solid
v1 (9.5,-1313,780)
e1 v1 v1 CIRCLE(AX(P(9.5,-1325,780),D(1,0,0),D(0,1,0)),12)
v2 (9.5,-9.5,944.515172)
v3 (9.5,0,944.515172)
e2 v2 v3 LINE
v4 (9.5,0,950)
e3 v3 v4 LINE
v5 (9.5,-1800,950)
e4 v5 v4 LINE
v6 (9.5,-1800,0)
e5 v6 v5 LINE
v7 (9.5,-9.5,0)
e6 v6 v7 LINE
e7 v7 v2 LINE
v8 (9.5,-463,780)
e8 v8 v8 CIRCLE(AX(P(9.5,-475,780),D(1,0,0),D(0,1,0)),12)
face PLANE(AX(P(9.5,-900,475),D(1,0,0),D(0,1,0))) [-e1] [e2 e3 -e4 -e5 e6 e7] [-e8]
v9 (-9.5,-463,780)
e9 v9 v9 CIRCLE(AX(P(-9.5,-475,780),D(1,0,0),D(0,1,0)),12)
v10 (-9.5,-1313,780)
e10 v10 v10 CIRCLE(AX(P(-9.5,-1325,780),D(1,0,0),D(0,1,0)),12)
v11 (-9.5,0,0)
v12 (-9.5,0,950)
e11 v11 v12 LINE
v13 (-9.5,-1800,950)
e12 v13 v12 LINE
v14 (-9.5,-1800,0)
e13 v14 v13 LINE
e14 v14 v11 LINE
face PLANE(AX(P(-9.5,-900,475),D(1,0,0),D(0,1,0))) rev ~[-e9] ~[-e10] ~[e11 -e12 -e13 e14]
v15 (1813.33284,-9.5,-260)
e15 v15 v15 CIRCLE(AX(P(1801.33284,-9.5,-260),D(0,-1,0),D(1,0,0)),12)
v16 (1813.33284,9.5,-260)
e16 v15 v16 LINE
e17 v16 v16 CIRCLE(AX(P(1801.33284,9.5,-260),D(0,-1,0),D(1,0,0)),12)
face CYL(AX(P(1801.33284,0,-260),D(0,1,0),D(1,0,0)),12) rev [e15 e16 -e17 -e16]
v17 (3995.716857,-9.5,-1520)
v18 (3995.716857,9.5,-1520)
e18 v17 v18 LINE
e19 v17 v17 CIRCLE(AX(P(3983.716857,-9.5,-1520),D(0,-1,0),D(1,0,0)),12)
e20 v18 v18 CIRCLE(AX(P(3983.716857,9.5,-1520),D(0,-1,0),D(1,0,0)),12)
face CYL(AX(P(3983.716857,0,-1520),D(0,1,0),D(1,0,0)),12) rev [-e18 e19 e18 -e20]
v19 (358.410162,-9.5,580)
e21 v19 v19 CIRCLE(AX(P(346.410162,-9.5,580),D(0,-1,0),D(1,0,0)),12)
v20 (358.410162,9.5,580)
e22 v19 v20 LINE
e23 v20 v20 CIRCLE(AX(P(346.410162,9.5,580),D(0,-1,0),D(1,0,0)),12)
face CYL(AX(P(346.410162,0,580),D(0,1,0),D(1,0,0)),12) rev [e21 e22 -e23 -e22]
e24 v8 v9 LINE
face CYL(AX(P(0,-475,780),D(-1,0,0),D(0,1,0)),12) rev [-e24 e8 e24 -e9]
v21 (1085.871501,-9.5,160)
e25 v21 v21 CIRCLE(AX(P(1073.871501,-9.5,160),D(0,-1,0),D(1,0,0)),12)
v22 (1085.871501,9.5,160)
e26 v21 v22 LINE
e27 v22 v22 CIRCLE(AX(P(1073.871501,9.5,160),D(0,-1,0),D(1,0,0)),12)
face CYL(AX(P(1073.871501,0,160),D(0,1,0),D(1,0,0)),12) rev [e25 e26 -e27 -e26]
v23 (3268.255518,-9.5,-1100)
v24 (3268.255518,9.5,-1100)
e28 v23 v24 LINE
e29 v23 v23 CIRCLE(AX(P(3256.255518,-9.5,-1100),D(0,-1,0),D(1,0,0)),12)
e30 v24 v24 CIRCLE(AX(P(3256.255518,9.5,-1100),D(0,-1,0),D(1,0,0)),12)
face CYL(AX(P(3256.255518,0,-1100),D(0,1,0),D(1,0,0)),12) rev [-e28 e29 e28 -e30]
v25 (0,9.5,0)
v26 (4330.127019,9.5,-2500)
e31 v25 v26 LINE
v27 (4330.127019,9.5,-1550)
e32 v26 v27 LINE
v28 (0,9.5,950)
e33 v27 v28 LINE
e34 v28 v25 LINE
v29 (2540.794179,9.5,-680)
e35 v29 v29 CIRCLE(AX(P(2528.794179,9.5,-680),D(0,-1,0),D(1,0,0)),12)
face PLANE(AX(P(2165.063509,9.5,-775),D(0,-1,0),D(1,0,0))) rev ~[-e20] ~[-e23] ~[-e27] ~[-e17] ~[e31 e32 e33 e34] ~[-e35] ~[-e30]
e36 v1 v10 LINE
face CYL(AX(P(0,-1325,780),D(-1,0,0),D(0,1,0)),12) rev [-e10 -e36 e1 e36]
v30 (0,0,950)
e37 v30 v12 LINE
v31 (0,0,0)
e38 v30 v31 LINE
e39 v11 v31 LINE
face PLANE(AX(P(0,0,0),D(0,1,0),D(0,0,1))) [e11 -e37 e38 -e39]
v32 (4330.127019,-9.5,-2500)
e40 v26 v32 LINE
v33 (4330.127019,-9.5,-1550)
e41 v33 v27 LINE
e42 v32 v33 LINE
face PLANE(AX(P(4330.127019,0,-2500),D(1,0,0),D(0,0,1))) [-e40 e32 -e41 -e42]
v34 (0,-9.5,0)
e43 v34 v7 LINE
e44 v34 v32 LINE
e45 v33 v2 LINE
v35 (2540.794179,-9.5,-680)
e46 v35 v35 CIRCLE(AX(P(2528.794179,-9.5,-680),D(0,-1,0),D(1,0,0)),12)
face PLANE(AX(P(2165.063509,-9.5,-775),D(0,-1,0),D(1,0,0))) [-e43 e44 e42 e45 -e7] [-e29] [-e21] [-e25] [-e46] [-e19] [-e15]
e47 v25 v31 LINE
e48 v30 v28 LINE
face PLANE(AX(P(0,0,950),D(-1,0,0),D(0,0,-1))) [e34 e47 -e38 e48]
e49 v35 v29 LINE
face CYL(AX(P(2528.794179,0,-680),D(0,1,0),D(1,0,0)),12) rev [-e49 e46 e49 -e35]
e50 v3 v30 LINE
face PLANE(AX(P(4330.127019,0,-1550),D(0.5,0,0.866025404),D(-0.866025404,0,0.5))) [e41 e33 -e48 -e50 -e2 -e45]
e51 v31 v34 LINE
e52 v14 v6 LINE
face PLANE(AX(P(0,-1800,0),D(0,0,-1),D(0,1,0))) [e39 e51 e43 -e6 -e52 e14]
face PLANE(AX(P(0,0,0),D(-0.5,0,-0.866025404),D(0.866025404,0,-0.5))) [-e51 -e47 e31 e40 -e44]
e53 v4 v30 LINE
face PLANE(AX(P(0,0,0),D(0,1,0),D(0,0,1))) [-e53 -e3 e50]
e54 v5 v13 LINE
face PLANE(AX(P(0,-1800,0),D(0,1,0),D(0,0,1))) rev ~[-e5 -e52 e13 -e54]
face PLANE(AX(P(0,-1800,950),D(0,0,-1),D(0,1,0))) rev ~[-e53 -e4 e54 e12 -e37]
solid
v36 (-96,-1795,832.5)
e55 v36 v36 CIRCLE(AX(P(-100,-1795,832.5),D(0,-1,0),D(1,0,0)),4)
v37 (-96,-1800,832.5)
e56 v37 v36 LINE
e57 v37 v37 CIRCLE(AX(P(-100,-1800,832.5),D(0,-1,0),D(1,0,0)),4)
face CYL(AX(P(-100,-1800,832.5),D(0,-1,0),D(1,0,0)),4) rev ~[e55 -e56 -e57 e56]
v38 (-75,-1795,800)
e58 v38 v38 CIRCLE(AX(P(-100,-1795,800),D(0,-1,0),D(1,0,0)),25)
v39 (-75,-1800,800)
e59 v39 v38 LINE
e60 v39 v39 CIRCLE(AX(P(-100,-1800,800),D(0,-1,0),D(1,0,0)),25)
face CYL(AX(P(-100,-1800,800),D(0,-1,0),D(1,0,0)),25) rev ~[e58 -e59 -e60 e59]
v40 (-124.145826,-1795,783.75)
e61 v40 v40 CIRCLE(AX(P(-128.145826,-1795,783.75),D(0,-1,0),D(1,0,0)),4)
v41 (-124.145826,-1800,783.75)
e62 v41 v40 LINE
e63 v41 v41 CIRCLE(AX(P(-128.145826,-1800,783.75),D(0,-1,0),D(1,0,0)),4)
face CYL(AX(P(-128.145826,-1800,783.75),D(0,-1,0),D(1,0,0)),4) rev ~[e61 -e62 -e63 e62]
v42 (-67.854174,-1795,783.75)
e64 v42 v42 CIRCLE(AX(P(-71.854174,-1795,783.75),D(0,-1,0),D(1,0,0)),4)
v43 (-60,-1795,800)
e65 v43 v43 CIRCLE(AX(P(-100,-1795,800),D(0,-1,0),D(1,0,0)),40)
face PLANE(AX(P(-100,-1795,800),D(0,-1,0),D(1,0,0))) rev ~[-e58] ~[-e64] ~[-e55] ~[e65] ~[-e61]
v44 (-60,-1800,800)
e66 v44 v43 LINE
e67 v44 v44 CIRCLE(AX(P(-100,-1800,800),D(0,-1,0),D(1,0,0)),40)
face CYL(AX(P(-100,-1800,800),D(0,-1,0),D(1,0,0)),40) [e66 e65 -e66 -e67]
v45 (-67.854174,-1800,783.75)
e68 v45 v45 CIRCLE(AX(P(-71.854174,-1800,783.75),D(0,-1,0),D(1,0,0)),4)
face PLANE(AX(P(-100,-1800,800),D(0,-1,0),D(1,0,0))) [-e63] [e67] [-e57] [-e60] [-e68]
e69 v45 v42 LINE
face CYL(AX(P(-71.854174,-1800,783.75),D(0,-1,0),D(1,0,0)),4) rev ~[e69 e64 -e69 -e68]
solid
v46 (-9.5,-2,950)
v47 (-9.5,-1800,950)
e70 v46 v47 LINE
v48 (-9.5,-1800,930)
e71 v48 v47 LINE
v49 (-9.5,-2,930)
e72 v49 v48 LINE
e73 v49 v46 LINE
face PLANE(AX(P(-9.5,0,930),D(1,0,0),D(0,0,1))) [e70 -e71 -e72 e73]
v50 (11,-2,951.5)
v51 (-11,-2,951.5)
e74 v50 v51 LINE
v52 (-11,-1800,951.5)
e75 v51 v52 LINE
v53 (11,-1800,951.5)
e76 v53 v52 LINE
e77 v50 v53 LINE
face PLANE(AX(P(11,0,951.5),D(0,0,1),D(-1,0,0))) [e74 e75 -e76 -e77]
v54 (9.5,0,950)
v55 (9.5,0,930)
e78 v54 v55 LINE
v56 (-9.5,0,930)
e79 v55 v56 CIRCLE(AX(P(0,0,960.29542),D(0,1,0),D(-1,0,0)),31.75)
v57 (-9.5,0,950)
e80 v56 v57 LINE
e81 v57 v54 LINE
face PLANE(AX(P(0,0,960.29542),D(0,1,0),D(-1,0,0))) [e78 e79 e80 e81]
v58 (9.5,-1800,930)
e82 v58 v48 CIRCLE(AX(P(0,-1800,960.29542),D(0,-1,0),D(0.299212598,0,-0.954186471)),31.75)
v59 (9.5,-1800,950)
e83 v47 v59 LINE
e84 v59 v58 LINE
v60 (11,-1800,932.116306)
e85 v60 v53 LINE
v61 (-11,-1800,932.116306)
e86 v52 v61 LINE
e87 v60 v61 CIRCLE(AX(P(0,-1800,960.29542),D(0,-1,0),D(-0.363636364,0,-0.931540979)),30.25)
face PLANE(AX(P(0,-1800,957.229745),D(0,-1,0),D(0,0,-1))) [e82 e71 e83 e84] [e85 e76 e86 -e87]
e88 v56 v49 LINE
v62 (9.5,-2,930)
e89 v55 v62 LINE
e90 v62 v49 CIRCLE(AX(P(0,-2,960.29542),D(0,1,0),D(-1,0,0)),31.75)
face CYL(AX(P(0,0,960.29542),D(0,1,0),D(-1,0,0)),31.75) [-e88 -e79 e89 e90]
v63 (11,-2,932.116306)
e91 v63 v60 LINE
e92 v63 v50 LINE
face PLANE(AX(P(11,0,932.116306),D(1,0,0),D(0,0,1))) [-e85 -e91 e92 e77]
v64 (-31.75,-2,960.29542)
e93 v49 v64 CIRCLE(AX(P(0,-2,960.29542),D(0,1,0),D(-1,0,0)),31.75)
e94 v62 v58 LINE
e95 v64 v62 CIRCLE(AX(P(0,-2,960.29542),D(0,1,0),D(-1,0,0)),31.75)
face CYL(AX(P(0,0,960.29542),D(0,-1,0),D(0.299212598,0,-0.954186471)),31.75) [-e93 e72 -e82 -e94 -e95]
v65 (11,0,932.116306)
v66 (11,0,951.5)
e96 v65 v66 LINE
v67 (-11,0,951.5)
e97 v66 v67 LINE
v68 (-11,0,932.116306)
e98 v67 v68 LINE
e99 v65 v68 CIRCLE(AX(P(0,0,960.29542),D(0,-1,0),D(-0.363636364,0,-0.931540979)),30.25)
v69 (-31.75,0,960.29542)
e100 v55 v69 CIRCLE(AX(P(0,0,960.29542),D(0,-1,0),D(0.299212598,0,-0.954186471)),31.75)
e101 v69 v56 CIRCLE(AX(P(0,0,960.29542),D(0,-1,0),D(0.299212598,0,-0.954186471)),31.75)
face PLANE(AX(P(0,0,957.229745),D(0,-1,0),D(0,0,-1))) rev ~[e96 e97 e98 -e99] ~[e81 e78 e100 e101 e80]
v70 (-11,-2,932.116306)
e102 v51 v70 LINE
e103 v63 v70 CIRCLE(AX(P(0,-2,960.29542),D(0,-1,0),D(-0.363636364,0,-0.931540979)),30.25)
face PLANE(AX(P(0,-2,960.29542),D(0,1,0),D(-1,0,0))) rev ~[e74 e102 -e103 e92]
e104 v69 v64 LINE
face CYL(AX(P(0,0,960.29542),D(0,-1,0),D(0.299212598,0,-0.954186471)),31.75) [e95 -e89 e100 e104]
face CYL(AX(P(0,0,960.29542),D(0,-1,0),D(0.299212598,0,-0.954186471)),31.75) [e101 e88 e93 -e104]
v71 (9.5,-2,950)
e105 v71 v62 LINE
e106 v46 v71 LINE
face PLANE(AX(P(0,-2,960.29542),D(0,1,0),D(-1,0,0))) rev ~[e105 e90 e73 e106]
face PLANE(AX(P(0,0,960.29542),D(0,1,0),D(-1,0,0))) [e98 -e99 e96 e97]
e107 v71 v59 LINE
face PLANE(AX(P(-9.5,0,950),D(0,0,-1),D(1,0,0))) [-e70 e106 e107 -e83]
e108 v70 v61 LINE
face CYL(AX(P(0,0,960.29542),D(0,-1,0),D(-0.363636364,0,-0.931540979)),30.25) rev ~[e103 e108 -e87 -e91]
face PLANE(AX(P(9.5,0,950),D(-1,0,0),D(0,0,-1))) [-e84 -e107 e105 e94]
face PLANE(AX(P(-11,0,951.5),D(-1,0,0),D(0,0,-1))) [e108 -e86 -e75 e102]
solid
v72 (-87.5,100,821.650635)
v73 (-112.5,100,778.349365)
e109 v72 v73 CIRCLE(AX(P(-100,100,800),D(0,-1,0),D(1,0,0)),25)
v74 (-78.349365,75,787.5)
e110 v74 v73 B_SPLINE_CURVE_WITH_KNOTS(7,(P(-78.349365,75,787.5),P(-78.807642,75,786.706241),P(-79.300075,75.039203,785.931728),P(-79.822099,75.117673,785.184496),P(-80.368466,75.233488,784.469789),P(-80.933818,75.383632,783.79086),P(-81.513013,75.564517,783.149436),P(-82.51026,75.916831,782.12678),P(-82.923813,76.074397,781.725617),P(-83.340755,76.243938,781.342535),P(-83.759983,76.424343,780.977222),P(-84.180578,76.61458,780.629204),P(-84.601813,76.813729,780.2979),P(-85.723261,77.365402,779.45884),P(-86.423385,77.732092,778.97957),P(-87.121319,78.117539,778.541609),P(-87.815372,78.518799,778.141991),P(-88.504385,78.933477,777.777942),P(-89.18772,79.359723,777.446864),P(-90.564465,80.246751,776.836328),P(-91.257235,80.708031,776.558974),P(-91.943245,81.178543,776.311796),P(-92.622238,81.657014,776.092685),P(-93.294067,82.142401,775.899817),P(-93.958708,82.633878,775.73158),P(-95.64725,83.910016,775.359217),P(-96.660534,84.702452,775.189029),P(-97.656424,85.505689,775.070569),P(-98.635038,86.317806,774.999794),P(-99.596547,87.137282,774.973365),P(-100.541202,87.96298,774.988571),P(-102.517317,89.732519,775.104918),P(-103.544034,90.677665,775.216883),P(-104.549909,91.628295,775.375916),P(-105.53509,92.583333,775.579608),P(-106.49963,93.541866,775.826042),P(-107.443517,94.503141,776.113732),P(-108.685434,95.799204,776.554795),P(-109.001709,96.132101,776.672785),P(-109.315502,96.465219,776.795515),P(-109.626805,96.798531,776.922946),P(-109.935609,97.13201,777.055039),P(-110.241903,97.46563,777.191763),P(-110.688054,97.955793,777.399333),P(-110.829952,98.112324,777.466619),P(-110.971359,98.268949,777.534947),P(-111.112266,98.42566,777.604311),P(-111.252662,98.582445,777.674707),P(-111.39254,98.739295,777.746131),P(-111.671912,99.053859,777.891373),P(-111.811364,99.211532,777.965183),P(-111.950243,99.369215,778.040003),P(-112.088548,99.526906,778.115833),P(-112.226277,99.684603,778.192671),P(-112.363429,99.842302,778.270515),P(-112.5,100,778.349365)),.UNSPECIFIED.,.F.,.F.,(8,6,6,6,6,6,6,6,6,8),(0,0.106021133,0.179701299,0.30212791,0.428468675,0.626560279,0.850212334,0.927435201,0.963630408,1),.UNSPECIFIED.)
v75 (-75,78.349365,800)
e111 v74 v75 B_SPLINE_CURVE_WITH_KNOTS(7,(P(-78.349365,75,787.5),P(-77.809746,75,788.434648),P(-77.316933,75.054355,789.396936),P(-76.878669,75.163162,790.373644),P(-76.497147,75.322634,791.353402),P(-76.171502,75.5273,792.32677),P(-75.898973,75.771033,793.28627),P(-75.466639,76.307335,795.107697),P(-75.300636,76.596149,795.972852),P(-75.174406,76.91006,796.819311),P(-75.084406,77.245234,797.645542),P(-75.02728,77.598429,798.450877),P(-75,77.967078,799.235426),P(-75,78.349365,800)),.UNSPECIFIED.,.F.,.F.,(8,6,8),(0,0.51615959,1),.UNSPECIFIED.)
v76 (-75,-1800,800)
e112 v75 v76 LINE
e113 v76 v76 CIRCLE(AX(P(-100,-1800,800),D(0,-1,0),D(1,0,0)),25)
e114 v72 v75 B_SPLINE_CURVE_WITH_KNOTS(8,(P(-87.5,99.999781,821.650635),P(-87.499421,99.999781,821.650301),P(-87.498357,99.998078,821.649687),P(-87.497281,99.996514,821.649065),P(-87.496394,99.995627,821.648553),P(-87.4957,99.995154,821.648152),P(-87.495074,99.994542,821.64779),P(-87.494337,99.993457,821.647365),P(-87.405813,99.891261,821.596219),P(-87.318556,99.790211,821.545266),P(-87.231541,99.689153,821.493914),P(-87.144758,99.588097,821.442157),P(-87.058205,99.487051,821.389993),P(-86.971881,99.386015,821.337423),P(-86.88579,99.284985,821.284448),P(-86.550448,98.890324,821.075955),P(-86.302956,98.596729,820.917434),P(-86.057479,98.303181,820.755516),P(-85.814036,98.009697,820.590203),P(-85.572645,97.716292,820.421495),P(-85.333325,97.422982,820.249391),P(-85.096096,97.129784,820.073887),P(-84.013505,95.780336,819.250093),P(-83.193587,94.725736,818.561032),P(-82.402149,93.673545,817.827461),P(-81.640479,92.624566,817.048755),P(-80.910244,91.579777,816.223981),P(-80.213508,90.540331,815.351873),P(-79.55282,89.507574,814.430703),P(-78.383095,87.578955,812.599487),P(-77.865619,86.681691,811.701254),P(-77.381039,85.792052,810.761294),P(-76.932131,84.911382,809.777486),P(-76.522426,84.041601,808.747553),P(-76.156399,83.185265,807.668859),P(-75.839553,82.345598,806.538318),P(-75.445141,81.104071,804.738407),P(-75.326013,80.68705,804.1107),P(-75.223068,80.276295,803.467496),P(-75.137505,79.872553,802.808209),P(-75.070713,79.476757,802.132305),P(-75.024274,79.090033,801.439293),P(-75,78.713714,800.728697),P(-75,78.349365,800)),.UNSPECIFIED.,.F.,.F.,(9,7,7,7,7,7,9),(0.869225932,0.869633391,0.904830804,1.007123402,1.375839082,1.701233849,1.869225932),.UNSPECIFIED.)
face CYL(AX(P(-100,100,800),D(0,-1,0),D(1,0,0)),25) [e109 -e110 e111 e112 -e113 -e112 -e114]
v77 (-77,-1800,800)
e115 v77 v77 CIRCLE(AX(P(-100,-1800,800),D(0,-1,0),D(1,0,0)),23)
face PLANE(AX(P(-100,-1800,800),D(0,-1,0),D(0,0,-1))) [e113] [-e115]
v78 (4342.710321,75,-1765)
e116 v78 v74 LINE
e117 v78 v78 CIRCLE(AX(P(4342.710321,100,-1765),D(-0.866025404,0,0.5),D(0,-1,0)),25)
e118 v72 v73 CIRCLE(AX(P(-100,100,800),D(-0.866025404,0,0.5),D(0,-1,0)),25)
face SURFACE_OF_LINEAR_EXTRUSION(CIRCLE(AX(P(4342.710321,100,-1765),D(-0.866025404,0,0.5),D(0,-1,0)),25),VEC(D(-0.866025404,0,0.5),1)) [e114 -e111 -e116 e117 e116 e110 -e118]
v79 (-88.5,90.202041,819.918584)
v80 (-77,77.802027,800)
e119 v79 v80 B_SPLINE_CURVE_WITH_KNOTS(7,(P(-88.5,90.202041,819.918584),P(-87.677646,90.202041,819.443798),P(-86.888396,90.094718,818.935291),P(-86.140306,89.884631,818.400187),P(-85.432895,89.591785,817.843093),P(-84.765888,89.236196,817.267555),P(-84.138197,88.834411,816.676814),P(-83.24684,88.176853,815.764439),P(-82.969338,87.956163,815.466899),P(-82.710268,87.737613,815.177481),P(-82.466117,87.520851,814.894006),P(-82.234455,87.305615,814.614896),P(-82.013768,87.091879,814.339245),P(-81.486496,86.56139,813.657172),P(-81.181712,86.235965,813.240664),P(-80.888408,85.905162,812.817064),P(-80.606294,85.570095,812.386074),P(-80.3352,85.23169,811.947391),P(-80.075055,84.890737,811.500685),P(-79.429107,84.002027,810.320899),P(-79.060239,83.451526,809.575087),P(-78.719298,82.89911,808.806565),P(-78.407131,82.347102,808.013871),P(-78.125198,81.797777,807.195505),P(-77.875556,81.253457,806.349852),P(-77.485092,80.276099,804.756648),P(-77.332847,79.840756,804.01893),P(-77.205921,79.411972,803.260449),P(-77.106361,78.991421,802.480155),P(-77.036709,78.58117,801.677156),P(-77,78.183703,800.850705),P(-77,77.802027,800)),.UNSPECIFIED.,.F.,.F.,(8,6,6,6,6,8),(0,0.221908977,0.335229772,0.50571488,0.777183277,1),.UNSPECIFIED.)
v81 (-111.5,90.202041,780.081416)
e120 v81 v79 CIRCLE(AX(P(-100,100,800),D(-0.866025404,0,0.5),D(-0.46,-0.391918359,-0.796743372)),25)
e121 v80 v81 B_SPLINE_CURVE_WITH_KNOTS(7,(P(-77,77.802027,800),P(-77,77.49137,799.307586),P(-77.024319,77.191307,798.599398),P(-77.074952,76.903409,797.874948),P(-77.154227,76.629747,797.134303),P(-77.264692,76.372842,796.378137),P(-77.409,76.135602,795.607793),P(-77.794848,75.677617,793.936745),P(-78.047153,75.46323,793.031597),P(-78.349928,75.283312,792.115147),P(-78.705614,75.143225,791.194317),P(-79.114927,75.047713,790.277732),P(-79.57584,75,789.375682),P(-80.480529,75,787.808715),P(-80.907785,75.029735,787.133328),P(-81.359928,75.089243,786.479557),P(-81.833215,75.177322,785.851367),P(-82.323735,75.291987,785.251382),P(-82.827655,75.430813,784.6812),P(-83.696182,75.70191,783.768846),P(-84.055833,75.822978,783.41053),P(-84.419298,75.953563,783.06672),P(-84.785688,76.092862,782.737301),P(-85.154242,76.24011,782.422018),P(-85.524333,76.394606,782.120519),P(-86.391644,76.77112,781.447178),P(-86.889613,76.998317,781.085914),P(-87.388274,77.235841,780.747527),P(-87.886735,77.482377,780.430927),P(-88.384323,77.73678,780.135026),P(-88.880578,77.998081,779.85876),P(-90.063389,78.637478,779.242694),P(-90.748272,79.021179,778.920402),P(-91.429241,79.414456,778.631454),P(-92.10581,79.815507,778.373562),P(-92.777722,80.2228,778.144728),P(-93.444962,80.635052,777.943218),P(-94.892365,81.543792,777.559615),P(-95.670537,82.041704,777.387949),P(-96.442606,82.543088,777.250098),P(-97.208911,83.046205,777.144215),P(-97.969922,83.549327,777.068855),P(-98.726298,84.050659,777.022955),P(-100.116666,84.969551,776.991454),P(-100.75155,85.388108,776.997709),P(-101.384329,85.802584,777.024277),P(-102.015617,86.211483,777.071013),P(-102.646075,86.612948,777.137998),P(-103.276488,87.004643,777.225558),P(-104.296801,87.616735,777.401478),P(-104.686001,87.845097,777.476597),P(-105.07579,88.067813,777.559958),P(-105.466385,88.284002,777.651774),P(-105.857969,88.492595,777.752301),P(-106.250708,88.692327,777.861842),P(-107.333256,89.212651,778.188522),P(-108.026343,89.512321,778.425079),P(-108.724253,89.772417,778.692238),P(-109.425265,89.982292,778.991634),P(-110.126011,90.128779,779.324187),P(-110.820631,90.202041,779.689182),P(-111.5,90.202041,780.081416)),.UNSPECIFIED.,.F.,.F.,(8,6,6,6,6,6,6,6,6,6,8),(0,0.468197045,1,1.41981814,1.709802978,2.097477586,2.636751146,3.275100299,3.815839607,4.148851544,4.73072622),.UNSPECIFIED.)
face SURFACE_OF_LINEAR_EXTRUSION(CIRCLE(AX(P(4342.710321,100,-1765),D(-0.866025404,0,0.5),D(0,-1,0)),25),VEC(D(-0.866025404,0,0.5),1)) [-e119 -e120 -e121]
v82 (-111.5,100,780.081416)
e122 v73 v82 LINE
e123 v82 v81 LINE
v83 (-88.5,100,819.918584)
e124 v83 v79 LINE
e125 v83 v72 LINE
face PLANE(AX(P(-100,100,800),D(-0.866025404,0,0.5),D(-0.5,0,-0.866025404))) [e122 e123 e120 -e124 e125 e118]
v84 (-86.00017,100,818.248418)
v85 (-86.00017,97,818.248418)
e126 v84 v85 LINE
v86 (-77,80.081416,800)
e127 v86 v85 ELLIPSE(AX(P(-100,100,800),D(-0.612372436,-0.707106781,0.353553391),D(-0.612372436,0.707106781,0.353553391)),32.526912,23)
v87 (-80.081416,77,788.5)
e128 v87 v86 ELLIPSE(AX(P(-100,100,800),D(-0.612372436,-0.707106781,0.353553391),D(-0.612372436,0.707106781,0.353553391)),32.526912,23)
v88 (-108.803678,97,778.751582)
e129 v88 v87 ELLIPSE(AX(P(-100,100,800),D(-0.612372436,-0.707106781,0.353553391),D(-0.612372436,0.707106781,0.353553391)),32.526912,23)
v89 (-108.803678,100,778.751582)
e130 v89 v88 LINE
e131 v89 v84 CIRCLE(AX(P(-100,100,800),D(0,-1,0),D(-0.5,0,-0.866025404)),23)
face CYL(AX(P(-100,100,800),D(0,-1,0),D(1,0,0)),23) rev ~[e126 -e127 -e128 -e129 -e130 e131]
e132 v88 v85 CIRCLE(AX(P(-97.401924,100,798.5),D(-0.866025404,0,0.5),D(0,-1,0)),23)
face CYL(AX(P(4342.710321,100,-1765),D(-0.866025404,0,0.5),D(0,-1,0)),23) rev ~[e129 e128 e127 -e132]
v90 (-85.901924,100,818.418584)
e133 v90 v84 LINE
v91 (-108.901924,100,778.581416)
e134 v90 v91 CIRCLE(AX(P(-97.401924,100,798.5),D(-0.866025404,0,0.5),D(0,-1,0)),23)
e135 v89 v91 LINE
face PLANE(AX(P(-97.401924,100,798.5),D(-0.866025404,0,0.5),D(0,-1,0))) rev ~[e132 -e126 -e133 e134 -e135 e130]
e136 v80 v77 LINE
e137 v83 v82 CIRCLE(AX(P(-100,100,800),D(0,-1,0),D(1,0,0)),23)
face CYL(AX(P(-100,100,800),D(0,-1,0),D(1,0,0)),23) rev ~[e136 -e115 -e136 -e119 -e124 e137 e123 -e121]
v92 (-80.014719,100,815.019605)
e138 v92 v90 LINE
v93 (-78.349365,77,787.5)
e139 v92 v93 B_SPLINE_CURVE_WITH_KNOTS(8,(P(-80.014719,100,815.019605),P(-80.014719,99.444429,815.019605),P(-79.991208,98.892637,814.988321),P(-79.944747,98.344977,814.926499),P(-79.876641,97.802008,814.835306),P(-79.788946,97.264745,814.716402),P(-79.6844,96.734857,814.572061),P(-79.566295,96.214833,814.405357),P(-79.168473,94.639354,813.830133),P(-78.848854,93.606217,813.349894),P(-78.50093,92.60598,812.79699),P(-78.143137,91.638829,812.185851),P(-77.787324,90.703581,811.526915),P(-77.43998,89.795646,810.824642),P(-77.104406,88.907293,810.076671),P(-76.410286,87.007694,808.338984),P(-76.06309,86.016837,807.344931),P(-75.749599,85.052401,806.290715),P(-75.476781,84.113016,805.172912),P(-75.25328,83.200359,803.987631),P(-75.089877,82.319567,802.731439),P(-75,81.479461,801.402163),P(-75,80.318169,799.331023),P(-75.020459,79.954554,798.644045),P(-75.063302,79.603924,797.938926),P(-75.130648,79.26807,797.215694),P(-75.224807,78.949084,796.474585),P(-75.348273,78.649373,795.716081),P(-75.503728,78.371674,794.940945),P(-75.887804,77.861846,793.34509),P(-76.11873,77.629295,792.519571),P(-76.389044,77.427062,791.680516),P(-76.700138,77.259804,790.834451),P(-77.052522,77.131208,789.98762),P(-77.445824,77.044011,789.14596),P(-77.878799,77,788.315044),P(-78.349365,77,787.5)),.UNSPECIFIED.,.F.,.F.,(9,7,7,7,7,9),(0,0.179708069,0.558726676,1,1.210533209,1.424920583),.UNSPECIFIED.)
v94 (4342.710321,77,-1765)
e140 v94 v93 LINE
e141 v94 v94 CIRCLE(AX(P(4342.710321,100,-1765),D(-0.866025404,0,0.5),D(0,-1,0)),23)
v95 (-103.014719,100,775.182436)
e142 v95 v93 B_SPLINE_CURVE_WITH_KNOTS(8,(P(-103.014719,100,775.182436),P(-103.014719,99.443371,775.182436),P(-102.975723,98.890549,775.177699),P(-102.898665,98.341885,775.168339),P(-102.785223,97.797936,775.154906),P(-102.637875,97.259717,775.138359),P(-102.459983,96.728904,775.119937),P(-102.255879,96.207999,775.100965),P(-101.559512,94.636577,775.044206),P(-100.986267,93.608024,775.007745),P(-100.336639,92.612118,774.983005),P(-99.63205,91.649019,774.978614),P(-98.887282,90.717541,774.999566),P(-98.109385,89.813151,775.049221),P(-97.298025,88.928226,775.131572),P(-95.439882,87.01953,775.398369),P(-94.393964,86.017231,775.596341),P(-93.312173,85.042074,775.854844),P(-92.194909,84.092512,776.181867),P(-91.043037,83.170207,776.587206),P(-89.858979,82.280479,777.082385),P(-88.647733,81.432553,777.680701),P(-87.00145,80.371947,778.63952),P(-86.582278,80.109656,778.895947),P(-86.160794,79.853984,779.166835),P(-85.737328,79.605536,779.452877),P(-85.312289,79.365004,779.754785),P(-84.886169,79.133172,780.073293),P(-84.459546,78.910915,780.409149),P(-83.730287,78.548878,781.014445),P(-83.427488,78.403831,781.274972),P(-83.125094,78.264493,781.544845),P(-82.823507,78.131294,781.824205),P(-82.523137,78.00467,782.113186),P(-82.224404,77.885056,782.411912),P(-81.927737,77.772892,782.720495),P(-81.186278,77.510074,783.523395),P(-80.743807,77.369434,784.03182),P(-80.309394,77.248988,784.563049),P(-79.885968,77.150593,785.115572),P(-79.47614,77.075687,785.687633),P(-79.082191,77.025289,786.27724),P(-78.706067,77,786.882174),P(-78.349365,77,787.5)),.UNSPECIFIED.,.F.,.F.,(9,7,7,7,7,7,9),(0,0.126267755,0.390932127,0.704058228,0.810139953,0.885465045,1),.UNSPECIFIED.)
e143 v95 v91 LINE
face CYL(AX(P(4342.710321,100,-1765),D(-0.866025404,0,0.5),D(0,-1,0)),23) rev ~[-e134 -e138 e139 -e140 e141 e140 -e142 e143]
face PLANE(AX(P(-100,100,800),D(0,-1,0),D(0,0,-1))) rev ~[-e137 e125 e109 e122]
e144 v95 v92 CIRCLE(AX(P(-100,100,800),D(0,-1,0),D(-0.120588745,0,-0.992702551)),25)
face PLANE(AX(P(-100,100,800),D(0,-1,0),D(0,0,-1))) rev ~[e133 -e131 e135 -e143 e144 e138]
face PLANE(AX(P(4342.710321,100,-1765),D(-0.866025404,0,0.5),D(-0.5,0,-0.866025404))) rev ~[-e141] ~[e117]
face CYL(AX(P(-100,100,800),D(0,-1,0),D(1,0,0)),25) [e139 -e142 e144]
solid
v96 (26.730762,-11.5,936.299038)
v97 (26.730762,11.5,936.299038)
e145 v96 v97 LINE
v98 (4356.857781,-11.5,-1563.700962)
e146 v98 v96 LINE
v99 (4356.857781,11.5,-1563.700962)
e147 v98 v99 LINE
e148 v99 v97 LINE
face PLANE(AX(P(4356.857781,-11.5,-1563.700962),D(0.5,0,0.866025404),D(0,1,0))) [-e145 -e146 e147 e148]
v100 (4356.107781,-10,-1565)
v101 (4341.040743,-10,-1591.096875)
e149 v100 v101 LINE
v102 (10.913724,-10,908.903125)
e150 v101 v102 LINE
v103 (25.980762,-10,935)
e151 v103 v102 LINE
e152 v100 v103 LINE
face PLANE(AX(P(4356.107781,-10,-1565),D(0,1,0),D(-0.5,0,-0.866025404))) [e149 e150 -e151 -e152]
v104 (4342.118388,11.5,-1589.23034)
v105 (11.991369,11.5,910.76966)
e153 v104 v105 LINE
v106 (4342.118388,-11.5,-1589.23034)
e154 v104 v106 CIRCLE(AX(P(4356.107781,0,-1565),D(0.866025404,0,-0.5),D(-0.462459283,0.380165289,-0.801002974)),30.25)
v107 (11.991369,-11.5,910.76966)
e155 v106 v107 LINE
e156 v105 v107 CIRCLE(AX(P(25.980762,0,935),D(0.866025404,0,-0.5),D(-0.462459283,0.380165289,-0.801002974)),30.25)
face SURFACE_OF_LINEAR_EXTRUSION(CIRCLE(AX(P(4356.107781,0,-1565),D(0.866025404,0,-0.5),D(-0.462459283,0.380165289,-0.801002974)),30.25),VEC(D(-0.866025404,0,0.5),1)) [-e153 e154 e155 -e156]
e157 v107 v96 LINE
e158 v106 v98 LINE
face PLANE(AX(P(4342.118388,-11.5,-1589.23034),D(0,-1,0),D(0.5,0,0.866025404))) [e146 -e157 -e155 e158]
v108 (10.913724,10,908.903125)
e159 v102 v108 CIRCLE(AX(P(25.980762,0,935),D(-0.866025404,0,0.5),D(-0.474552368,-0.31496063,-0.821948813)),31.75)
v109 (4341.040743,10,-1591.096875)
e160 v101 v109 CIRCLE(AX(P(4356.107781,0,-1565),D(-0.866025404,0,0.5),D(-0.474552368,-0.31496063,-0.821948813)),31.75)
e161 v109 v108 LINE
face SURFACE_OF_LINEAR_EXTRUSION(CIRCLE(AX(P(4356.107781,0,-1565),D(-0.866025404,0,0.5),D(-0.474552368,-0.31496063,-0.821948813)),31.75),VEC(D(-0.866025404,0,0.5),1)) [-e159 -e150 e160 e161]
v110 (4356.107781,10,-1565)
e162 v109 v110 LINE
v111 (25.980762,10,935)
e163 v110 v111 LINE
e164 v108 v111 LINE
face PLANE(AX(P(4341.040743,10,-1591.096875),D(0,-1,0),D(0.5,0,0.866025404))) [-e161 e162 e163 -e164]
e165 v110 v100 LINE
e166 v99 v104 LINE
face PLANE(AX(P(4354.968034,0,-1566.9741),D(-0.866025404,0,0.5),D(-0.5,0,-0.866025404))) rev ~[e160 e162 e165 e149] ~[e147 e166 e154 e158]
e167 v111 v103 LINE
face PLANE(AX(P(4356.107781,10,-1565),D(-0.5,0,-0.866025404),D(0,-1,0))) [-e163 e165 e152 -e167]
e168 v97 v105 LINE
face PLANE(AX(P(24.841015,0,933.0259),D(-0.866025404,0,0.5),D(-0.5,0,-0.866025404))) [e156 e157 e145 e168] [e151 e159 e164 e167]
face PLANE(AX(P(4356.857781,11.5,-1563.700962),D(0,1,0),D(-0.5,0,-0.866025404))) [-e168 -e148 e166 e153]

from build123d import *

# Parameters (mm, degrees)
F0_R      = 12
F1_DEPTH  = 9.5
F2_W      = 1800
F2_H      = 950
F2_R      = 12
F3_DEPTH  = 9.5
F11_R     = 31.75
F12_DEPTH = 2
F18_R     = 25
F18_R_2   = 23
F21_R     = 25
F21_R_2   = 23
F23_R     = 25
F24_DEPTH = 3
F25_R     = 40
F25_R_2   = 4
F25_R_3   = 25
F26_DEPTH = 5


with BuildPart() as f1:
    # F0 (on Front) → F1 (new body, symmetric)
    with BuildSketch(Plane.XZ):
        Polygon((0, 950), (0, 0), (4330.1270189222, -2500), (4330.1270189222, -1550), align=None)
        with Locations((3983.7168574084, -1520)):
            Circle(F0_R, mode=Mode.SUBTRACT)
        with Locations((3256.2555182295, -1100)):
            Circle(F0_R, mode=Mode.SUBTRACT)
        with Locations((1801.3328398716, -260)):
            Circle(F0_R, mode=Mode.SUBTRACT)
        with Locations((1073.8715006927, 160)):
            Circle(F0_R, mode=Mode.SUBTRACT)
        with Locations((346.4101615138, 580)):
            Circle(F0_R, mode=Mode.SUBTRACT)
        with Locations((2528.7941790506, -680)):
            Circle(F0_R, mode=Mode.SUBTRACT)
    extrude(amount=F1_DEPTH, both=True)

    # F2 (on Right) → F3 (join, symmetric)
    with BuildSketch(Plane.YZ):
        with Locations((-900, 475)):
            Rectangle(F2_W, F2_H)
        with Locations((-1325, 780)):
            Circle(F2_R, mode=Mode.SUBTRACT)
        with Locations((-475, 780)):
            Circle(F2_R, mode=Mode.SUBTRACT)
    extrude(amount=F3_DEPTH, both=True)


with BuildPart() as f7:
    # F7: sweep along a path in F5
    with BuildLine(Plane.YZ) as f7_path:
        Line((0, 950), (-1800, 950))
    # F6 (on face) → F7 (sweep)
    with BuildSketch(Plane.XZ.offset(1800)):
        with BuildLine():
            Line((9.5, 950), (9.5, 930))
            ThreePointArc((9.5, 930), (0, 992.045420446), (-9.5, 930))
            Line((-9.5, 930), (-9.5, 950))
            Line((-9.5, 950), (9.5, 950))
        make_face()
        with BuildLine():
            ThreePointArc((-11, 932.1163058396), (0, 990.545420446), (11, 932.1163058396))
            Line((11, 932.1163058396), (11, 951.5))
            Line((11, 951.5), (-11, 951.5))
            Line((-11, 951.5), (-11, 932.1163058396))
        make_face(mode=Mode.SUBTRACT)
    sweep(path=f7_path.line)

    # F11 (on face) → F12 (join)
    with BuildSketch(Plane(origin=(0, 0, 0), x_dir=(-1, 0, 0), z_dir=(0, 1, 0))):
        with Locations((0, 960.295420446)):
            Circle(F11_R)
    extrude(amount=-F12_DEPTH)


with BuildPart() as f10:
    # F10: sweep along a path in F0
    with BuildLine(Plane.XZ) as f10_path:
        Line((4330.1270189222, -1550), (0, 950))
    # F9 (on line) → F10 (sweep)
    with BuildSketch(Plane(origin=(3944.7457142381, 0, -2277.5), x_dir=(0, -1, 0), z_dir=(-0.8660254038, 0, 0.5))):
        with BuildLine():
            Line((10, 822.7241335952), (10, 792.5900581987))
            ThreePointArc((10, 792.5900581987), (0, 854.4741335952), (-10, 792.5900581987))
            Line((-10, 792.5900581987), (-10, 822.7241335952))
            Line((-10, 822.7241335952), (10, 822.7241335952))
        make_face()
        with BuildLine():
            ThreePointArc((-11.5, 794.7453469882), (0, 852.9741335952), (11.5, 794.7453469882))
            Line((11.5, 794.7453469882), (11.5, 824.2241335952))
            Line((11.5, 824.2241335952), (-11.5, 824.2241335952))
            Line((-11.5, 824.2241335952), (-11.5, 794.7453469882))
        make_face(mode=Mode.SUBTRACT)
    sweep(path=f10_path.line)


with BuildPart() as f19:
    # F19: sweep along a path in F14
    with BuildLine(Plane.XZ.offset(-100)) as f19_path:
        Line((4342.7103214142, -1765), (-100, 800))
    # F18 (on line) → F19 (sweep)
    with BuildSketch(Plane(origin=(4021.3001599004, 0, -2321.6987298108), x_dir=(0, -1, 0), z_dir=(-0.8660254038, 0, 0.5))):
        with Locations((-100, 642.8203230276)):
            Circle(F18_R)
        with Locations((-100, 642.8203230276)):
            Circle(F18_R_2, mode=Mode.SUBTRACT)
    sweep(path=f19_path.line)

    # F22: sweep along a path in F17
    with BuildLine(Plane.XY.offset(800)) as f22_path:
        Line((-100, 100), (-100, -1800))
    # F21 (on line) → F22 (sweep)
    with BuildSketch(Plane.XZ.offset(1800)):
        with Locations((-100, 800)):
            Circle(F21_R)
        with Locations((-100, 800)):
            Circle(F21_R_2, mode=Mode.SUBTRACT)
    sweep(path=f22_path.line)

    # F23 (on face) → F24 (join)
    with BuildSketch(Plane(origin=(-421.4101615138, 0, 243.3012701892), x_dir=(0, -1, 0), z_dir=(-0.8660254038, 0, 0.5))):
        with Locations((-100, 642.8203230276)):
            Circle(F23_R)
    extrude(amount=-F24_DEPTH)


with BuildPart() as f26:
    # F25 (on line) → F26 (new body)
    with BuildSketch(Plane.XZ.offset(1800)):
        with Locations((-100, 800)):
            Circle(F25_R)
        with Locations((-128.145825623, 783.75)):
            Circle(F25_R_2, mode=Mode.SUBTRACT)
        with Locations((-71.854174377, 783.75)):
            Circle(F25_R_2, mode=Mode.SUBTRACT)
        with Locations((-100, 800)):
            Circle(F25_R_3, mode=Mode.SUBTRACT)
        with Locations((-100, 832.5)):
            Circle(F25_R_2, mode=Mode.SUBTRACT)
    extrude(amount=-F26_DEPTH)


solid = Compound([f1.part, f7.part, f10.part, f19.part, f26.part])
